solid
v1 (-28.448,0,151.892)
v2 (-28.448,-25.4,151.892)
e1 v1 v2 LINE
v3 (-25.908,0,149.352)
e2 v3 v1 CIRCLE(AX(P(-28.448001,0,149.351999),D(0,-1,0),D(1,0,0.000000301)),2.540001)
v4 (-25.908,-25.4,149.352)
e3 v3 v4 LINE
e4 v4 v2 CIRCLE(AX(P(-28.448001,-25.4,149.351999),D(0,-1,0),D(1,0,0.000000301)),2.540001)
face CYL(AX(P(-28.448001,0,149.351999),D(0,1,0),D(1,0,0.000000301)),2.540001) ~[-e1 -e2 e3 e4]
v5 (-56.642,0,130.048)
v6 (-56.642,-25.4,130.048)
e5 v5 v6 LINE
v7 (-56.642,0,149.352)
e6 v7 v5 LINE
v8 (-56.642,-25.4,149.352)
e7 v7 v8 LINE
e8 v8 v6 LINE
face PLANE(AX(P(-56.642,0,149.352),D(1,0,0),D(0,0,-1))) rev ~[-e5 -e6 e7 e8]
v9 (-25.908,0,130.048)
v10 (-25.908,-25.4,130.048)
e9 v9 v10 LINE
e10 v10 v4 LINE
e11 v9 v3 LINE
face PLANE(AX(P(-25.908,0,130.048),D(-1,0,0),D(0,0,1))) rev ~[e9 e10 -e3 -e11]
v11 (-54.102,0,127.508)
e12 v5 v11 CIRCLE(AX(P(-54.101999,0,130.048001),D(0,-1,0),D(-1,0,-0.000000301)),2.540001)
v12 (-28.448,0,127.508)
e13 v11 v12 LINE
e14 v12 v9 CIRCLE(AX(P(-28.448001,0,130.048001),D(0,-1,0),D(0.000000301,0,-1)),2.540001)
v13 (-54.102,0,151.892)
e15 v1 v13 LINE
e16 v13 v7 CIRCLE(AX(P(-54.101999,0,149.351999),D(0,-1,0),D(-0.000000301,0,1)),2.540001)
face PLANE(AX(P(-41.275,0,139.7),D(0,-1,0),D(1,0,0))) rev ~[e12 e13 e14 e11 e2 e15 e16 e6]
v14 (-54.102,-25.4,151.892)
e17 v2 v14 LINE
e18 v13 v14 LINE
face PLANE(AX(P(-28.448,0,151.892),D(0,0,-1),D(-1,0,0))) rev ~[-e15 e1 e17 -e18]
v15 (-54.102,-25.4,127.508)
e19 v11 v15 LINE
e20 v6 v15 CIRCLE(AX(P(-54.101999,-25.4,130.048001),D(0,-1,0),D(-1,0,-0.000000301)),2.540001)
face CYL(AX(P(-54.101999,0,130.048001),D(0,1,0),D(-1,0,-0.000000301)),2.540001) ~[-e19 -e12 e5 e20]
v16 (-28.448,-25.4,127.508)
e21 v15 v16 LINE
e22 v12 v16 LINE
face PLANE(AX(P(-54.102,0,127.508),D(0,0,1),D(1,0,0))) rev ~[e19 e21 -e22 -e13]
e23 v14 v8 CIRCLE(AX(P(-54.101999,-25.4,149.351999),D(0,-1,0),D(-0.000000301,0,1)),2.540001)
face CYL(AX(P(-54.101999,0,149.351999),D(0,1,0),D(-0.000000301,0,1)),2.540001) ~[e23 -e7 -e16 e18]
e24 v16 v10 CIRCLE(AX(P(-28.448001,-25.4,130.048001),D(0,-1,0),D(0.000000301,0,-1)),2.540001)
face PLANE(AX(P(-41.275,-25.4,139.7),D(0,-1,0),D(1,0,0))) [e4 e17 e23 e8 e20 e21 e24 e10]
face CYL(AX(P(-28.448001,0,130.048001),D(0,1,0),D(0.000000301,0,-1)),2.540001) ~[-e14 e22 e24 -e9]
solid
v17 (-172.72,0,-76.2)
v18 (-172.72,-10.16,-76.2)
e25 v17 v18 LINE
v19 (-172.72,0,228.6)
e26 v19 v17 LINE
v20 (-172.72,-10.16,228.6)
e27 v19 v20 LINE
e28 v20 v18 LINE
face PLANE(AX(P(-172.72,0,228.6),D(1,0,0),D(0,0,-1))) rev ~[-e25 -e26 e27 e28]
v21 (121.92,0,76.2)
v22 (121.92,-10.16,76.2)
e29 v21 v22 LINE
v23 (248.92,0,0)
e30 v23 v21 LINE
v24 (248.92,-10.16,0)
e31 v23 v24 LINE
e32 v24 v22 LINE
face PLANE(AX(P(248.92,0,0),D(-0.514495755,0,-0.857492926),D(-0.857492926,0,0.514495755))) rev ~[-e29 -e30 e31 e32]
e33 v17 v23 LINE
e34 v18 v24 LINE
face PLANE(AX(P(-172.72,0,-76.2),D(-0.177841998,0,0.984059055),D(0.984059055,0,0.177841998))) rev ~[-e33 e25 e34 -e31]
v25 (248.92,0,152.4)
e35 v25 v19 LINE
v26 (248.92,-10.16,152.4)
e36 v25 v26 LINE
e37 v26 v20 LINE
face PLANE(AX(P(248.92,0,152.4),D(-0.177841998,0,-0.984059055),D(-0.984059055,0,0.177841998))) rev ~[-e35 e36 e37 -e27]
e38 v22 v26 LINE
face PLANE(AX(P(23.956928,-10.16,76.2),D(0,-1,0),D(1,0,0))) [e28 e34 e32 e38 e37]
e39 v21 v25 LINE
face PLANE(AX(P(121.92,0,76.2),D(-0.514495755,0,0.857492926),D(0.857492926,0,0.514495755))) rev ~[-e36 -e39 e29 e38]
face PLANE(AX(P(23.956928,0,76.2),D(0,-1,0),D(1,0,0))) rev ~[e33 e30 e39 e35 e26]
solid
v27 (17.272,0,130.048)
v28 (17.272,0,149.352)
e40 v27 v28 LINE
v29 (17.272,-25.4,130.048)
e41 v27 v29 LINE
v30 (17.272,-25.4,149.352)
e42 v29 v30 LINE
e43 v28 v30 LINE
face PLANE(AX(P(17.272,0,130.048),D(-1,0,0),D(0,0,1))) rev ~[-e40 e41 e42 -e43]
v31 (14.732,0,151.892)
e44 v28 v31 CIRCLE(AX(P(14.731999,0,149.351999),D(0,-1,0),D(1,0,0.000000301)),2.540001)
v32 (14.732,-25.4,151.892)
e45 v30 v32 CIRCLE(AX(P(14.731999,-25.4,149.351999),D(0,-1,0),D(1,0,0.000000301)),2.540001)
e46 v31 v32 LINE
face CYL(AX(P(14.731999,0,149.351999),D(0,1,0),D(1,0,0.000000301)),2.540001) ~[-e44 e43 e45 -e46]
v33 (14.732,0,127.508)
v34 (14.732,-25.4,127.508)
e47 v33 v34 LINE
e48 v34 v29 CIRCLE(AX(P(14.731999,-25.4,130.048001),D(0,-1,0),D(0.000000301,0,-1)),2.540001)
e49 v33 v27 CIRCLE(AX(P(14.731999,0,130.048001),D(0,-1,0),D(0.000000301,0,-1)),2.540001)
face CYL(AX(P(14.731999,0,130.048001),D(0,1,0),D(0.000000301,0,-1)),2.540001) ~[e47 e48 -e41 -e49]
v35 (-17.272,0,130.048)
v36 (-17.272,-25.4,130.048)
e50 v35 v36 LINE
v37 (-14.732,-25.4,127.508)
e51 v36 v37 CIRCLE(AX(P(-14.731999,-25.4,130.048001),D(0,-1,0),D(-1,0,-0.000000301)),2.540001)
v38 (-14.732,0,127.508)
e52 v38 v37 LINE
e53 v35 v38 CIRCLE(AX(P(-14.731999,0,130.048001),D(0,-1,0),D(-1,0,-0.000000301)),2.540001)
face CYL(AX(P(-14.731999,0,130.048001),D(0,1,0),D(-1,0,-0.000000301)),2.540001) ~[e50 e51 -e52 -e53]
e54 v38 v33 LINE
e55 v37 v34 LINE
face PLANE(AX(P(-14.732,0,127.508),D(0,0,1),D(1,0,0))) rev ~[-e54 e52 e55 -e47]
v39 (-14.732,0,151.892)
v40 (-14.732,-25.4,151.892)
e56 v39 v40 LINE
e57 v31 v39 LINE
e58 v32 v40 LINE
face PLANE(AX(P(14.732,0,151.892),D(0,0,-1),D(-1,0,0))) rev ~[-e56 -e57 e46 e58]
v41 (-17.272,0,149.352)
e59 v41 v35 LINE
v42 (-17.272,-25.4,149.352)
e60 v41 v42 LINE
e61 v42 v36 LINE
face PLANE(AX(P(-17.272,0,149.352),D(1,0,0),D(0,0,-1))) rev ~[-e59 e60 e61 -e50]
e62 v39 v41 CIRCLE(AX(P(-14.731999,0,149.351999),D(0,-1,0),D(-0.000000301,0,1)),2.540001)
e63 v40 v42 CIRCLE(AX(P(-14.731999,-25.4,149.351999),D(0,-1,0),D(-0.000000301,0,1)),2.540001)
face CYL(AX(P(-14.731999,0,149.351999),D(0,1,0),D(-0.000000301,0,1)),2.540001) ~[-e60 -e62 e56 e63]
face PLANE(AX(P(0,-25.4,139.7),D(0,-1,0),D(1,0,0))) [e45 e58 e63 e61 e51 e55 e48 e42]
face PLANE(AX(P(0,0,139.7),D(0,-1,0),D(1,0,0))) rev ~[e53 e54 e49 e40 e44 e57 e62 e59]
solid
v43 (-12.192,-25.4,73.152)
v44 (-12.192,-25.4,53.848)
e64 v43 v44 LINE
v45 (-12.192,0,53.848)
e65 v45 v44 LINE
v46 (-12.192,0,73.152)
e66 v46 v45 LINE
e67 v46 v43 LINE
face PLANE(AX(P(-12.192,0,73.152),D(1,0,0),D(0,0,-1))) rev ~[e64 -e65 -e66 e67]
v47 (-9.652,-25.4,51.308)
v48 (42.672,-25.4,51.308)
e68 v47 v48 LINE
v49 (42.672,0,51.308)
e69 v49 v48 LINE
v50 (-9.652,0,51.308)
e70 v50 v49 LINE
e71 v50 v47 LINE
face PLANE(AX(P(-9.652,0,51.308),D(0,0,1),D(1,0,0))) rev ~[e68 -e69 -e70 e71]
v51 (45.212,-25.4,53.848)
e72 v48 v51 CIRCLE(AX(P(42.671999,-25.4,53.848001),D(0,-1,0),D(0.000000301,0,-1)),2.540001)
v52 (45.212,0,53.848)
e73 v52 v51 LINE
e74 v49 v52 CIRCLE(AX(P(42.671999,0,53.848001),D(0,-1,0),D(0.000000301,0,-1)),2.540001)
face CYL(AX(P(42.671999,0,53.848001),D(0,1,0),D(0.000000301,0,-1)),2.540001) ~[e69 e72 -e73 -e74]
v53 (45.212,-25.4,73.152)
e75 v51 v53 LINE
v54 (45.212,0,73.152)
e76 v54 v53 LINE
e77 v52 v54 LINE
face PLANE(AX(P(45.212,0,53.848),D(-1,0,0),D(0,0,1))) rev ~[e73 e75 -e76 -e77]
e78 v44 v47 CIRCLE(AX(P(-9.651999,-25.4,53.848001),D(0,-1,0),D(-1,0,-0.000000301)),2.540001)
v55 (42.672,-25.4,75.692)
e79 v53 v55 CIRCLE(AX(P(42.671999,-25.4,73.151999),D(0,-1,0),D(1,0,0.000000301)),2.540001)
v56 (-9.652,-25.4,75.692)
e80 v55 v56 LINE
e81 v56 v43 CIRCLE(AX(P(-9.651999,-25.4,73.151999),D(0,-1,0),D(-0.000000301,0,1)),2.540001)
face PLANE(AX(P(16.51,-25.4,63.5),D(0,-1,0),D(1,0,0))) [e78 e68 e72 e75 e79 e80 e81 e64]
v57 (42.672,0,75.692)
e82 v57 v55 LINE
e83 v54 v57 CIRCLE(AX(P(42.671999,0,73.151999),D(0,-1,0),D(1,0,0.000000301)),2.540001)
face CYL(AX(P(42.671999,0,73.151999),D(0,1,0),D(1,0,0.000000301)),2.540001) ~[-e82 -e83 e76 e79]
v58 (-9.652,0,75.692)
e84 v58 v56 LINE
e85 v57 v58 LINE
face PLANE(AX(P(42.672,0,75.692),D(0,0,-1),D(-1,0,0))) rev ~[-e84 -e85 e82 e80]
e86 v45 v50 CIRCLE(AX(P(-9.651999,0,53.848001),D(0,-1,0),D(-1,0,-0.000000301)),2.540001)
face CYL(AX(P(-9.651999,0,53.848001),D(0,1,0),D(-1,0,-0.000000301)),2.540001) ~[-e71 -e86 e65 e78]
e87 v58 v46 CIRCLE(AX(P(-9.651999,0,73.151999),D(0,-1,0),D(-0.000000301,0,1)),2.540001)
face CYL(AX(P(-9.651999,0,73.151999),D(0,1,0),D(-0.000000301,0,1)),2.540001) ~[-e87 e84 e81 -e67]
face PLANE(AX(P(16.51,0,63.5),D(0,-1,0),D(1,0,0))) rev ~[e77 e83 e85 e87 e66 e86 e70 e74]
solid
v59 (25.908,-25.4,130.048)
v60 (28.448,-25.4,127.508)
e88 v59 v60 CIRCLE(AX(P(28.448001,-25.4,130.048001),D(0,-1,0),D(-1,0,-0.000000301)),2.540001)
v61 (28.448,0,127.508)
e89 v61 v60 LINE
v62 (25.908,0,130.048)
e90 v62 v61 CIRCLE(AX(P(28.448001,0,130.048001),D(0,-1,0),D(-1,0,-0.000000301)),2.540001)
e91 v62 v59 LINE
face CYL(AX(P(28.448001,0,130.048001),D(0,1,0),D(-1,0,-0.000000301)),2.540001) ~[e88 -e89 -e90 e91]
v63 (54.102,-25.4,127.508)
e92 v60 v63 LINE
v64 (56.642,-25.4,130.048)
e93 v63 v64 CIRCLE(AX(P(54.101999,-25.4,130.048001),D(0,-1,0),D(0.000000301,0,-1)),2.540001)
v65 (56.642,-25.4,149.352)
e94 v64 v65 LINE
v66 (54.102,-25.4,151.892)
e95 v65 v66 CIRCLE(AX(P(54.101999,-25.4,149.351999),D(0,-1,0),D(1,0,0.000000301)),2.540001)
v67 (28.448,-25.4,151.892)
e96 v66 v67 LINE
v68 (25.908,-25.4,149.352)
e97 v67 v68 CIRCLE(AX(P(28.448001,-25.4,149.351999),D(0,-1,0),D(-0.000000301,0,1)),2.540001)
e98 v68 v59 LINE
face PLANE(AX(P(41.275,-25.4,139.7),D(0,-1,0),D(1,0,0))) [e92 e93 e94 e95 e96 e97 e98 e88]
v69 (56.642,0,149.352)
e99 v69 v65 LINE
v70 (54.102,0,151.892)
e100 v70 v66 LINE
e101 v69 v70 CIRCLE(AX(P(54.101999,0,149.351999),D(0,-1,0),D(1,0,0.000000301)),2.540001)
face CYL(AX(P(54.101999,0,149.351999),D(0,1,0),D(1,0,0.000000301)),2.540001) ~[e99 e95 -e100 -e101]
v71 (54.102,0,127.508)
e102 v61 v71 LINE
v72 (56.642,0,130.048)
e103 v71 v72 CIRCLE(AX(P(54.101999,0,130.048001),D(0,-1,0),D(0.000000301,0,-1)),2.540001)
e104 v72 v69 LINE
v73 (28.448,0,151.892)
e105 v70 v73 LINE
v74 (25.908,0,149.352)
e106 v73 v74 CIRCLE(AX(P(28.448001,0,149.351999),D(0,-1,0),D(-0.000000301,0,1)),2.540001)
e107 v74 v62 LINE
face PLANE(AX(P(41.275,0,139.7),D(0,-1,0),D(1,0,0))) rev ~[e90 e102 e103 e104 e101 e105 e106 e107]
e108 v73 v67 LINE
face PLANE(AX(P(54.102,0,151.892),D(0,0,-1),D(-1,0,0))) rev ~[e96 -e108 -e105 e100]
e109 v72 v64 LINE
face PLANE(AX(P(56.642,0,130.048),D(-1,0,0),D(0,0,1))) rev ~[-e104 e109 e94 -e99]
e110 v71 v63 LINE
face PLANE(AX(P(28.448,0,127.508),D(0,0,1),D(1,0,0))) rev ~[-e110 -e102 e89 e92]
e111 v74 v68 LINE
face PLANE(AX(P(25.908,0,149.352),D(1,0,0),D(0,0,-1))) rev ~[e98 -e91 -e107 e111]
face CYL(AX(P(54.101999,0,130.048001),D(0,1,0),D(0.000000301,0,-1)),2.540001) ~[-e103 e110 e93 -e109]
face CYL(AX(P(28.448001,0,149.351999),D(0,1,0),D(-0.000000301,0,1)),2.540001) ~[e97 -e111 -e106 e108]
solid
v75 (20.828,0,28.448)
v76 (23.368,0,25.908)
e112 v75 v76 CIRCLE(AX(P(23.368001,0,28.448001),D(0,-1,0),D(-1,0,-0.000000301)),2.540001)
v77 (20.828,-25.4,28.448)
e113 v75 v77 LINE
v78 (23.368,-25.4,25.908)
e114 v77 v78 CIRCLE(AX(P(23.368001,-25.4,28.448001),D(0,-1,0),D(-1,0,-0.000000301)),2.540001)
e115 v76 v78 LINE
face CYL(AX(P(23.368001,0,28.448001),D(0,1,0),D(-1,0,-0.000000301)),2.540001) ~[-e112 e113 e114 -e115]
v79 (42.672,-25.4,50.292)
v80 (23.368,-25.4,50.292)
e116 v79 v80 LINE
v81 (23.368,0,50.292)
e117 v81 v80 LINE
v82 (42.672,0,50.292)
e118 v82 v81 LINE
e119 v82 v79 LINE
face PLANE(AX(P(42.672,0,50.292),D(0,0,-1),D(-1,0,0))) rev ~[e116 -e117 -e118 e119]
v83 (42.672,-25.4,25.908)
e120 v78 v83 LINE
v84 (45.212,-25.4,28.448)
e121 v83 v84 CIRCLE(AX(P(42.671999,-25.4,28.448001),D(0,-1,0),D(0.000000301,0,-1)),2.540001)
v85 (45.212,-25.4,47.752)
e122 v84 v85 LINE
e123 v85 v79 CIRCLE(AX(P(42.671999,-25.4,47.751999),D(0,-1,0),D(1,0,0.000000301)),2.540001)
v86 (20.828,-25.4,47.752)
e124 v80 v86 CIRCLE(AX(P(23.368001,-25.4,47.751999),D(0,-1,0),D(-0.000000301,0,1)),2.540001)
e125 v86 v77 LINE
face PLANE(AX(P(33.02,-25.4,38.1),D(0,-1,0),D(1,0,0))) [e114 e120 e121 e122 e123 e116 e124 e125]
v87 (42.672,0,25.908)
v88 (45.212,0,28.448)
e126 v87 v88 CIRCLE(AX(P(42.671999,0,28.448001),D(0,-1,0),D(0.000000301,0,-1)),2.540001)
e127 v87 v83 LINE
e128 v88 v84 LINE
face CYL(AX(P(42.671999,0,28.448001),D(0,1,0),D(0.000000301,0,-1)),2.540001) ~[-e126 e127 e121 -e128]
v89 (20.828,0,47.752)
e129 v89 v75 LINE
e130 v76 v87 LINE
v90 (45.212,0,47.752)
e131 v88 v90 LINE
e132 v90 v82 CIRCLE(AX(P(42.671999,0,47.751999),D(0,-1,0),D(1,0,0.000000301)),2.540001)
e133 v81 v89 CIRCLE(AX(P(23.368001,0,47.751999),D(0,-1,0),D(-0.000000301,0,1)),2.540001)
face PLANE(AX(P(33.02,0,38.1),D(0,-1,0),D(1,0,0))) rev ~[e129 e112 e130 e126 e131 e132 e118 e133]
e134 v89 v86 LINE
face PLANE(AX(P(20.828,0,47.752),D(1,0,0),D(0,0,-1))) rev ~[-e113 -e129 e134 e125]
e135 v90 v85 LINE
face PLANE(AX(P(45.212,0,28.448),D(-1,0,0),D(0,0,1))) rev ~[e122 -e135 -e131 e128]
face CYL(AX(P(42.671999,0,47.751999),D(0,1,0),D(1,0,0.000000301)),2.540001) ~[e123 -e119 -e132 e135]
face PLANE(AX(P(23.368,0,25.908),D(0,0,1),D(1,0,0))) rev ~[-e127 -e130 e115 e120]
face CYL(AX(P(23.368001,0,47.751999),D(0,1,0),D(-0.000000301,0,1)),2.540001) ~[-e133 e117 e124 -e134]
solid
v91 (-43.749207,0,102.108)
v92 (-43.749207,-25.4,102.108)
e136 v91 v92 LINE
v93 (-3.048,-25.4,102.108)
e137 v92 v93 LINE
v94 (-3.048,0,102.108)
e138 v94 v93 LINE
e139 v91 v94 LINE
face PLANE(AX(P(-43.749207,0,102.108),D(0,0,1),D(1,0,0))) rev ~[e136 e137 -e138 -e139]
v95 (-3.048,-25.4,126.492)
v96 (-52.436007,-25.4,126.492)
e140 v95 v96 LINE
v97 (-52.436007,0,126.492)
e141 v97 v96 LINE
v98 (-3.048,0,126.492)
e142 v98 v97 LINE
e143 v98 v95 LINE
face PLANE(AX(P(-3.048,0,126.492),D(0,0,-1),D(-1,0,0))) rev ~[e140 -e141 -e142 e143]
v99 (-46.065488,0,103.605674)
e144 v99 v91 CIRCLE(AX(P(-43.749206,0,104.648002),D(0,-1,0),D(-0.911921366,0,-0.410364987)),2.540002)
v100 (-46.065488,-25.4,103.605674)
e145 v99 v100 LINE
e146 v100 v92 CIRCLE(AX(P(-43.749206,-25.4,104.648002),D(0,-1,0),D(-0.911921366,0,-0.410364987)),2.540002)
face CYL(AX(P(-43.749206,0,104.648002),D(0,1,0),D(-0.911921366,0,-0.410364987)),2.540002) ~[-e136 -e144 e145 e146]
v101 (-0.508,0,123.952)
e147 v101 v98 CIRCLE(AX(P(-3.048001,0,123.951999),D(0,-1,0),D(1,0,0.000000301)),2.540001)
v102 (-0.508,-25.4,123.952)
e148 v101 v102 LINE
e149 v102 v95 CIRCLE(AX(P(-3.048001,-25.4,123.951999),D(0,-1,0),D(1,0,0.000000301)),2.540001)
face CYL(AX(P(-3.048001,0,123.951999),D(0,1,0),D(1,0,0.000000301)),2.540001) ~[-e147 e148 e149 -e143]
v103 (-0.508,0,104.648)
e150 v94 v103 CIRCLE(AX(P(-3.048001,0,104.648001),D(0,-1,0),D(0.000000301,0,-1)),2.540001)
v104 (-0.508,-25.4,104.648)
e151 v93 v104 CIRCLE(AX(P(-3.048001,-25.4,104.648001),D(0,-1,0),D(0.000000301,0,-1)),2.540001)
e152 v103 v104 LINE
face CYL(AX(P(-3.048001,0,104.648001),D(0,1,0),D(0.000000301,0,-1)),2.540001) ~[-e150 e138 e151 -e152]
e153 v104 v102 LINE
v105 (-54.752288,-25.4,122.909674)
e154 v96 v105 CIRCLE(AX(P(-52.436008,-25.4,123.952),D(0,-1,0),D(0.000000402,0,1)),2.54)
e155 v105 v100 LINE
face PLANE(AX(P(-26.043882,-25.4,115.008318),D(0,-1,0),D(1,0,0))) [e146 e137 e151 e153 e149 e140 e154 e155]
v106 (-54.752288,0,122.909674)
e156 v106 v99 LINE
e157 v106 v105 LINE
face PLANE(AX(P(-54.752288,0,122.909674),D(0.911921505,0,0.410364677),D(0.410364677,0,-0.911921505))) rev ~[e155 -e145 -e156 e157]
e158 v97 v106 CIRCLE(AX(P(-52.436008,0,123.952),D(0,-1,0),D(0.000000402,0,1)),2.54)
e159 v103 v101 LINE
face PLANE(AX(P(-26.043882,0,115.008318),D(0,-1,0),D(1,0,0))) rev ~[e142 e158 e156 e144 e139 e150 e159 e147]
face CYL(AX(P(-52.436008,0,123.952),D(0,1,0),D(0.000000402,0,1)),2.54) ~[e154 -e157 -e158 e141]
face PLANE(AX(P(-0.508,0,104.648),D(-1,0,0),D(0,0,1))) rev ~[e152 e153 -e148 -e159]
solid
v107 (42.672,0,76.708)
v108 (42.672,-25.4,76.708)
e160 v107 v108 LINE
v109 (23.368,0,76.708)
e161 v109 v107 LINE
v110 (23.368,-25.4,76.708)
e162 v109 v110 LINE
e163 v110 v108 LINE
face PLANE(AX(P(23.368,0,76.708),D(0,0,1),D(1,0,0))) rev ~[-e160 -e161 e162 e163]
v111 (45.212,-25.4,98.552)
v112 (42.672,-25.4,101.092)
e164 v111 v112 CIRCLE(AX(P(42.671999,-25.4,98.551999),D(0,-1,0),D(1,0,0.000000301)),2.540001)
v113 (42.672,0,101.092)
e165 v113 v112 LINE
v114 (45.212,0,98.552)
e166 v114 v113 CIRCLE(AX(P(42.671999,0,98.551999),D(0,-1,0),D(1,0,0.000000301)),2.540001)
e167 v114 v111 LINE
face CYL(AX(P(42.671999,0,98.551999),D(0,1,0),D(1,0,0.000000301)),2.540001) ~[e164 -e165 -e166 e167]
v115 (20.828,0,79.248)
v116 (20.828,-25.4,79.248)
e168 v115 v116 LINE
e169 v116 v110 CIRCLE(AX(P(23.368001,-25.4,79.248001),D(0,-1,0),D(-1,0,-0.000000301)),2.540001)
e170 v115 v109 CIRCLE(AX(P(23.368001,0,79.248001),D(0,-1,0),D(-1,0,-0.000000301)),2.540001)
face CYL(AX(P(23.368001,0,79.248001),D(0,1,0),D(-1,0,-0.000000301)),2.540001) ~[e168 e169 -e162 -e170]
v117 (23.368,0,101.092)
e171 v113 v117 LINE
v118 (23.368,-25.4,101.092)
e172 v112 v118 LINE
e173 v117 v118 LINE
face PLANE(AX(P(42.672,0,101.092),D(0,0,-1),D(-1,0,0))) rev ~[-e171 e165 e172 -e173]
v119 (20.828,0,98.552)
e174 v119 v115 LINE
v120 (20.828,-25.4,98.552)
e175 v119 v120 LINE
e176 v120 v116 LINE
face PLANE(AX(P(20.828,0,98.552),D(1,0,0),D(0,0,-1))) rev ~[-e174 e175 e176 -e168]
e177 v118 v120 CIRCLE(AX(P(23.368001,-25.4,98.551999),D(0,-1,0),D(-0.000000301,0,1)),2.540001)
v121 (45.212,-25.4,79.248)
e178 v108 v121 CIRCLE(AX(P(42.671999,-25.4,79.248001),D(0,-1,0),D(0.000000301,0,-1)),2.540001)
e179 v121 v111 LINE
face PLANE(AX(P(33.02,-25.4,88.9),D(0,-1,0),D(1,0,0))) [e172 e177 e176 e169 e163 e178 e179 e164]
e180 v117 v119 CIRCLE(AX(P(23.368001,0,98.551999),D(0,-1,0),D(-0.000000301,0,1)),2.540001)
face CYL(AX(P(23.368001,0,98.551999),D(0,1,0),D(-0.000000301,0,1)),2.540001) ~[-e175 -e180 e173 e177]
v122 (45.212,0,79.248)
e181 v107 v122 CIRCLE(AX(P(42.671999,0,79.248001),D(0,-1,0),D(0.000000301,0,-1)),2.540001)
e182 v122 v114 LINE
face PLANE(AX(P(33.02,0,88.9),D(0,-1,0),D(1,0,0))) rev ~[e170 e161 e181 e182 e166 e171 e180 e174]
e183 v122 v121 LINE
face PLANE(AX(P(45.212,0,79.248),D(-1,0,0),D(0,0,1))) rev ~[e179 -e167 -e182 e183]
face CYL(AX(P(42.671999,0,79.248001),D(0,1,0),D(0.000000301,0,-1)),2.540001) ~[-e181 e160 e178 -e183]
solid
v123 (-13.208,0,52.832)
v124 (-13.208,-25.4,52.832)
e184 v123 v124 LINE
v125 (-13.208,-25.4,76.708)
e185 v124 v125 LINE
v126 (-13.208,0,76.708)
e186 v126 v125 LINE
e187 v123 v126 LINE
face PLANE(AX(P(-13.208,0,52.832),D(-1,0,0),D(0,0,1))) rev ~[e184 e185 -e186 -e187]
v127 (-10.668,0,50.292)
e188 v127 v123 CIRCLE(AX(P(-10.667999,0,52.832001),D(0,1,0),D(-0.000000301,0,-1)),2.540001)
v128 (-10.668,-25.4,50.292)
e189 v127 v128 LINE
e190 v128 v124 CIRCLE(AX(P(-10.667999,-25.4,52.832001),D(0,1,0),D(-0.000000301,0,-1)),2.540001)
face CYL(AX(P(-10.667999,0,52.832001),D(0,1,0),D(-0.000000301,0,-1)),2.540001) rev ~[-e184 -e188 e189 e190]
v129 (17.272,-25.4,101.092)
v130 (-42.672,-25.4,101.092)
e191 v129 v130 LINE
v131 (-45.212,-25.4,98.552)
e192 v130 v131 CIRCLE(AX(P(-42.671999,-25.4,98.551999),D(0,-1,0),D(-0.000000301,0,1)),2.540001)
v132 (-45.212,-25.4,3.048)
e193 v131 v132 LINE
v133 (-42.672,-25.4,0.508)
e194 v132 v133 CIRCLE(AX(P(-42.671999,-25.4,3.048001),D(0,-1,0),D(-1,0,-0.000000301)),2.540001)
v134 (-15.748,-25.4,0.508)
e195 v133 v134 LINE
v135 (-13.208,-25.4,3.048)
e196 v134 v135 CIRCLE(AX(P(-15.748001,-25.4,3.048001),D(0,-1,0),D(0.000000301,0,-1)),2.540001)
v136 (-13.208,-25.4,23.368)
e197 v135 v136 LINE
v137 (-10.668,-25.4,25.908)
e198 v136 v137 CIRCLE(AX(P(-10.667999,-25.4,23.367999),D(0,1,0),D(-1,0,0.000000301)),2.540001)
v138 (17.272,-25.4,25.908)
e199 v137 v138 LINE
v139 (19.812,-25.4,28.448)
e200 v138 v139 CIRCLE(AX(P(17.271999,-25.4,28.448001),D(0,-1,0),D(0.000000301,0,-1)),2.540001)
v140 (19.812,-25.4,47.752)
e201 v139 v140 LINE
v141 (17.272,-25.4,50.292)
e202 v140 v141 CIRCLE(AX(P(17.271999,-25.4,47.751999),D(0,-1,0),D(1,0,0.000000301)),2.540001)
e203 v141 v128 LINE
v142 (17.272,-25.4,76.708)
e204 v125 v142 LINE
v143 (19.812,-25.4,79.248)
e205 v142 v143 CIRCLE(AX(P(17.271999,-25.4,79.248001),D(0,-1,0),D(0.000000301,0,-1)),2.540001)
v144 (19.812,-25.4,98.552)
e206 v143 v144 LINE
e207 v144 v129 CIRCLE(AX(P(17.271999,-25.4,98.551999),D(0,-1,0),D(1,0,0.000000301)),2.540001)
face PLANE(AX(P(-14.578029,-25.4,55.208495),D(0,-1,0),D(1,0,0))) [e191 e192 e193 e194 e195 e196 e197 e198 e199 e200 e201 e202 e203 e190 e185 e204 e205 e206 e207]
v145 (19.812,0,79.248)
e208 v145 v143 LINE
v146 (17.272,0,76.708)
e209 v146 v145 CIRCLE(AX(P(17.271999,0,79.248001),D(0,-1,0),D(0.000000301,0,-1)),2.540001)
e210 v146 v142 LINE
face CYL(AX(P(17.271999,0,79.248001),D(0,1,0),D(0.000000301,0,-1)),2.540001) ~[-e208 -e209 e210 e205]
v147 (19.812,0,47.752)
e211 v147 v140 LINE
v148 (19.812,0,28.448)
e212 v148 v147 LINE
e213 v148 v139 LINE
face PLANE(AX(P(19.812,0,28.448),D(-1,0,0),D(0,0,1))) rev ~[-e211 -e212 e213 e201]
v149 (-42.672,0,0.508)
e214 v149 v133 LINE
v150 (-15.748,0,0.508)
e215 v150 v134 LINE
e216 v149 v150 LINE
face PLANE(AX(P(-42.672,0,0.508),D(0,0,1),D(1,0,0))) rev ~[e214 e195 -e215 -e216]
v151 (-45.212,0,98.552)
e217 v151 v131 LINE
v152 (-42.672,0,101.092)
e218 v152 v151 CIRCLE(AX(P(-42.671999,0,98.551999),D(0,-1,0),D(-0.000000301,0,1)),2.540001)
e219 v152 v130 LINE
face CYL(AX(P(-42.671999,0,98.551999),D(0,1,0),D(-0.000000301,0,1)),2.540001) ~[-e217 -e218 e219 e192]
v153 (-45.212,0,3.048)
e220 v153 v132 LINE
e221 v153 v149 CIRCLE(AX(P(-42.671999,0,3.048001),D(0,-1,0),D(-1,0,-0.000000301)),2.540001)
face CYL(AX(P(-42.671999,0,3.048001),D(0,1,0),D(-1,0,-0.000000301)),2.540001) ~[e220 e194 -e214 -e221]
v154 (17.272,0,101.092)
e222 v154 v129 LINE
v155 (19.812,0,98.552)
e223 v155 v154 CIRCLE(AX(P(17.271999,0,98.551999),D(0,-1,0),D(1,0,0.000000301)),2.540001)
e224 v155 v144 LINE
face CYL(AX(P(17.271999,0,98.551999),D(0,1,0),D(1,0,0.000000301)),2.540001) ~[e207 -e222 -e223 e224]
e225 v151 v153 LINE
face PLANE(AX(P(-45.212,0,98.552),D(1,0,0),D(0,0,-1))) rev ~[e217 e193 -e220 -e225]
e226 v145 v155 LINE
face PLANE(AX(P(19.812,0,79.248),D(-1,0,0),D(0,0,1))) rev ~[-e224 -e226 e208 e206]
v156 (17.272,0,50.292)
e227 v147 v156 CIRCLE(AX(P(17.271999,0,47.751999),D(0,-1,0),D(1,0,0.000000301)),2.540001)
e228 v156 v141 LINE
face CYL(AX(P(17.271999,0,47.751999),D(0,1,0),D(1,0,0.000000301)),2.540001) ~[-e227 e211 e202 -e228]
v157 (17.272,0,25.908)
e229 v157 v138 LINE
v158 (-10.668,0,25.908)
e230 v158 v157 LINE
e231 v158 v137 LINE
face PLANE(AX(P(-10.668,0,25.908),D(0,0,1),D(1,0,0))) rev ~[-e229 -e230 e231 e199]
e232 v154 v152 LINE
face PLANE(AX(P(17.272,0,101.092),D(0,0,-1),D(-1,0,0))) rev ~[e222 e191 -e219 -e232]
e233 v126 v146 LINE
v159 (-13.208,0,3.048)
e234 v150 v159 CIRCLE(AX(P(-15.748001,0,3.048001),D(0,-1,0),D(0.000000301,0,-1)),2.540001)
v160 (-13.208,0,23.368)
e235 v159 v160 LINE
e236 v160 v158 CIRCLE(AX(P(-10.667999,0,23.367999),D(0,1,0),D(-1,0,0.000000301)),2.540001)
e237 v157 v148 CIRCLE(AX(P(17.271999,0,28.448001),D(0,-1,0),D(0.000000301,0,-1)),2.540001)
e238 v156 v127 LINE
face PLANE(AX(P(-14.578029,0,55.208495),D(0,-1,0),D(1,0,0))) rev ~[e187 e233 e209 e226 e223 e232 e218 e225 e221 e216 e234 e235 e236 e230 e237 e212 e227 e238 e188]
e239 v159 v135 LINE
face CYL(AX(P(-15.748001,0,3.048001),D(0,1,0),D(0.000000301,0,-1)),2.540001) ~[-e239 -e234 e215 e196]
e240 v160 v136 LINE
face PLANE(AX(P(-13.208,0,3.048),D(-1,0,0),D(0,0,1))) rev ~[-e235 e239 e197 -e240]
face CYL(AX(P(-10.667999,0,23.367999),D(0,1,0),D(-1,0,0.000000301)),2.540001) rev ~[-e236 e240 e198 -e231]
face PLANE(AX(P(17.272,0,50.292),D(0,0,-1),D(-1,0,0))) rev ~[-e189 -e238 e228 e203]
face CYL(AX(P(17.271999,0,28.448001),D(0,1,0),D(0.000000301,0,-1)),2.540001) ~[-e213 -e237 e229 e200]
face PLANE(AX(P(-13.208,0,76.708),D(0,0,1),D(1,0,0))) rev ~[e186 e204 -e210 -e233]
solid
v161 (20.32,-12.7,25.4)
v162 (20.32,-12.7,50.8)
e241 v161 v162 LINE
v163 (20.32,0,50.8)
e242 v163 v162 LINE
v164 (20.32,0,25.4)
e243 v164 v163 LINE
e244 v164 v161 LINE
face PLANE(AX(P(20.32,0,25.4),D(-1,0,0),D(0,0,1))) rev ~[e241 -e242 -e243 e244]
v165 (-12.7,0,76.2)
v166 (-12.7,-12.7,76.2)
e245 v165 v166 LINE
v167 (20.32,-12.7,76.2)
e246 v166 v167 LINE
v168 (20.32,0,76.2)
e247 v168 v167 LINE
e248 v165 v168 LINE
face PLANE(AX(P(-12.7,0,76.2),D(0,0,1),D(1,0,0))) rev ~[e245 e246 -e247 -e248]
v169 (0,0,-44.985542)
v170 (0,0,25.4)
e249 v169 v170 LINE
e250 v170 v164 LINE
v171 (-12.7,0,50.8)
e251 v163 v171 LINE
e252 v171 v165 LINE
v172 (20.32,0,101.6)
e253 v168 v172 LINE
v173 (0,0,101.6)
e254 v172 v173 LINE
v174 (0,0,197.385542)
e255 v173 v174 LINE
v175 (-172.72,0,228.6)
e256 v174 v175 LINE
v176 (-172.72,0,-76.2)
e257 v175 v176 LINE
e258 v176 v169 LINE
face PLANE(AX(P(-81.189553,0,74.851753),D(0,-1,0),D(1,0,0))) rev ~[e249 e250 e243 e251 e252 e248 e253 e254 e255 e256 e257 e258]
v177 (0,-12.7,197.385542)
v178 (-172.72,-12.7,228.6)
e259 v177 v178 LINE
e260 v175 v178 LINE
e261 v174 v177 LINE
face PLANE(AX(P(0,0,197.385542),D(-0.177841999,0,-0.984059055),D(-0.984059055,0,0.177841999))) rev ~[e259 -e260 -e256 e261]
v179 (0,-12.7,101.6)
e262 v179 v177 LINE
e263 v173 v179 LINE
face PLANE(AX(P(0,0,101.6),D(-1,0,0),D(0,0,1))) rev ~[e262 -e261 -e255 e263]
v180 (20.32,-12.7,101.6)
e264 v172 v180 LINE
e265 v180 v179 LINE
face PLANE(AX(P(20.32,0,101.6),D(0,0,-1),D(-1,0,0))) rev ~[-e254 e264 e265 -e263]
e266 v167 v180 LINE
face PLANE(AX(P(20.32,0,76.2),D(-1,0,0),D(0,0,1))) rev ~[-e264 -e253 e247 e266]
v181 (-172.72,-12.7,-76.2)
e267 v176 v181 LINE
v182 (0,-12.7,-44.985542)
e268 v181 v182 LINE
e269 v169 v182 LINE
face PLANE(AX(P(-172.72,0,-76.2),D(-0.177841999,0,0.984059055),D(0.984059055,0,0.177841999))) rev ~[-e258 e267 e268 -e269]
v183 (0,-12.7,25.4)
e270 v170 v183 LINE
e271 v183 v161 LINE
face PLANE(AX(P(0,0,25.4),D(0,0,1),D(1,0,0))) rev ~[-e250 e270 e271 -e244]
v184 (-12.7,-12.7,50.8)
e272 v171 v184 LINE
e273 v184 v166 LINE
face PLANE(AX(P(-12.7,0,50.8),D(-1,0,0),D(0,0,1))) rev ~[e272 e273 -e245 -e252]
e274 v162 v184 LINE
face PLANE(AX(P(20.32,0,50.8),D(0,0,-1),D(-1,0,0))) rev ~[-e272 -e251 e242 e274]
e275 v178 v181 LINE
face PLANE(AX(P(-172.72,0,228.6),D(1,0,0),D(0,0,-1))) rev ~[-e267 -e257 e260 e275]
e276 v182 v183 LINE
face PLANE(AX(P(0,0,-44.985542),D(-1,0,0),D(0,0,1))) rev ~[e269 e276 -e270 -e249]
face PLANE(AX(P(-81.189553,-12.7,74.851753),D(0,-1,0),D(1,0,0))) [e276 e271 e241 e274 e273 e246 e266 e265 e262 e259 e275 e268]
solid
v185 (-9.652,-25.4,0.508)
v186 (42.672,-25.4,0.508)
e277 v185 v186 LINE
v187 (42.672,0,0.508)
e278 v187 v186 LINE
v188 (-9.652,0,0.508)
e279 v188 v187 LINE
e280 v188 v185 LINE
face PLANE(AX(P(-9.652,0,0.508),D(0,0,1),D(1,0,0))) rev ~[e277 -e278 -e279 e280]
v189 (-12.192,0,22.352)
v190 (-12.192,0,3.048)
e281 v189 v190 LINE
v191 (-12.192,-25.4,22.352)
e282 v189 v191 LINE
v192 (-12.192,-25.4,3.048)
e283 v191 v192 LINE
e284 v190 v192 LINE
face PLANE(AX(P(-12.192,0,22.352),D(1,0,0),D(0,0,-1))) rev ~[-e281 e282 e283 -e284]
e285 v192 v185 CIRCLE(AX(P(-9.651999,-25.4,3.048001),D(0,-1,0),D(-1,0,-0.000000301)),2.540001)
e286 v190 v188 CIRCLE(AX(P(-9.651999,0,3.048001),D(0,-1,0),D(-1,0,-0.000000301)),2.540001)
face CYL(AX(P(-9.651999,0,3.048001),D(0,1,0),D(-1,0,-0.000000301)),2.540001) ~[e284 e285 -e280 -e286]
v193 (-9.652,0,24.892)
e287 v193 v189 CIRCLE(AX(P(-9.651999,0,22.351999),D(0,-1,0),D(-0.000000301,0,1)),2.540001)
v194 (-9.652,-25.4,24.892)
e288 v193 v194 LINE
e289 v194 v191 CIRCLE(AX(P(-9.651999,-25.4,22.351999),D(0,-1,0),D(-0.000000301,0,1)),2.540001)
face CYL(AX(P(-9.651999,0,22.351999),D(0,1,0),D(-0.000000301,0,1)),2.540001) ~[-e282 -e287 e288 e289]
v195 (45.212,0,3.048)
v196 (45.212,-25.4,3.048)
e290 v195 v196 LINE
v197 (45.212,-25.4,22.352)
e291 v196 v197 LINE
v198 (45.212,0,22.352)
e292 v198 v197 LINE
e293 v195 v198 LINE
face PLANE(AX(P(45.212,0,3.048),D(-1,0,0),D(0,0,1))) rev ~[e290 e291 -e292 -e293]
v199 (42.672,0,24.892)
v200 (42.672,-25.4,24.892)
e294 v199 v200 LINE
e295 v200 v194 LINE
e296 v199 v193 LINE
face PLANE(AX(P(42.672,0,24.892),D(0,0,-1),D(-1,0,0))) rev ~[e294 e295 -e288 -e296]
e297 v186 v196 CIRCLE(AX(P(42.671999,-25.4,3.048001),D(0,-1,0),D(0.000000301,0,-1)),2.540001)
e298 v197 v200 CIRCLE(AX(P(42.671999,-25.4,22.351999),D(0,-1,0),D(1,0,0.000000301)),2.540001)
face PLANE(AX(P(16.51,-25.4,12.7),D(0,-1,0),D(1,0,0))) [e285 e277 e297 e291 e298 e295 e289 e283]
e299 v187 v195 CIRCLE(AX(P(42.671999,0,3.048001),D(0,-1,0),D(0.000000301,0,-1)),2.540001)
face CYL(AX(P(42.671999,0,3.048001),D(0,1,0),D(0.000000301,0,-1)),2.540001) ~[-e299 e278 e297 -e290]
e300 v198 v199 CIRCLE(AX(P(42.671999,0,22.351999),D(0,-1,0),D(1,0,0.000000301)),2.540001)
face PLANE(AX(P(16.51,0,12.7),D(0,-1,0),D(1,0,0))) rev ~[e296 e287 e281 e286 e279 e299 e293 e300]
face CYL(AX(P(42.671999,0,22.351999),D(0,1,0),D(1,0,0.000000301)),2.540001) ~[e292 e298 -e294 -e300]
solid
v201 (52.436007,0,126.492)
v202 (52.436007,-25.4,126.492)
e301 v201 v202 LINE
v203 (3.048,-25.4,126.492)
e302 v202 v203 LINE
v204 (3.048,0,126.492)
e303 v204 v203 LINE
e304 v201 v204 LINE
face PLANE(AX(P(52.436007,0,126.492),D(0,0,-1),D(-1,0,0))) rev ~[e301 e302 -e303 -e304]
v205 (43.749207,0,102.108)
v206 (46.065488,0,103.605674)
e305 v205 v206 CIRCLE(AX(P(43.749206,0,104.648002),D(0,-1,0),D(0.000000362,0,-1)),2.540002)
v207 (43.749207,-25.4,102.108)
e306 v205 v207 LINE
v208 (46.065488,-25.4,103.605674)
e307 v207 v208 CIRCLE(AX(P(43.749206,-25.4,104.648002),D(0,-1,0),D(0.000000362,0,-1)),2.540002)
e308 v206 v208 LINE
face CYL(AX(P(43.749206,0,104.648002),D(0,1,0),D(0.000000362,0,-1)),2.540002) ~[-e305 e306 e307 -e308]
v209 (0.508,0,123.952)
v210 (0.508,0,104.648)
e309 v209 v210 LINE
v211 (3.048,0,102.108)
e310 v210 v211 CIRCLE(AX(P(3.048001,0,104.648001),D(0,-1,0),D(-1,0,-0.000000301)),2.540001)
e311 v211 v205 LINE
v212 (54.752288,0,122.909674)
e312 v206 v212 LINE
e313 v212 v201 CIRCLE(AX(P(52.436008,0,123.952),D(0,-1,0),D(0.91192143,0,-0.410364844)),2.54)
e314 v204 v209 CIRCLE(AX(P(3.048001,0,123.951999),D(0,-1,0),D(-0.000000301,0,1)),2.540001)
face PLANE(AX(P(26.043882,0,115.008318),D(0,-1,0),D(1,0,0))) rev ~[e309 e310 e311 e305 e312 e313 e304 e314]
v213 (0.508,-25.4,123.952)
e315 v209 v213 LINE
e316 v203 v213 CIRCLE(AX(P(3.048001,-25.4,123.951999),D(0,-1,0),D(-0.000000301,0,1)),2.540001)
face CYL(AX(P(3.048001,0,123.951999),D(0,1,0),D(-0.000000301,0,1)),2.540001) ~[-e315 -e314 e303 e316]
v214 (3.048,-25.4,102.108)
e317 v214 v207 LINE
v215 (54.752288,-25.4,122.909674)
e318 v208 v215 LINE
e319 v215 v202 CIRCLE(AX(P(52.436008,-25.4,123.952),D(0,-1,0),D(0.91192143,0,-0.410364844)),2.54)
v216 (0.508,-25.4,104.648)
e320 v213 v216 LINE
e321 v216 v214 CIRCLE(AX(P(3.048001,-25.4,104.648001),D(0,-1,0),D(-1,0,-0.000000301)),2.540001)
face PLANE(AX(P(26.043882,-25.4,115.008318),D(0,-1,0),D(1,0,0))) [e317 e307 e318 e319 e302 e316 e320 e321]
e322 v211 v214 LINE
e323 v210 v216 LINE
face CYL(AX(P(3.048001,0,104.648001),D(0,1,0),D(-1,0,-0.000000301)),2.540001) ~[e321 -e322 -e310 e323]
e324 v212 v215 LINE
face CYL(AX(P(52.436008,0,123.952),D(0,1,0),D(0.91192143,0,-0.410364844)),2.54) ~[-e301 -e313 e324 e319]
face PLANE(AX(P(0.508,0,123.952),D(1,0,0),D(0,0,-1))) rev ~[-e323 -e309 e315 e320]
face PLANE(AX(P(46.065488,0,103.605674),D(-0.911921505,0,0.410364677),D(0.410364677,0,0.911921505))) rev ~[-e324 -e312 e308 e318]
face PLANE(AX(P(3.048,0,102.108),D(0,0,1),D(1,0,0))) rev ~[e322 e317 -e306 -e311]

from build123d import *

# Parameters (mm, degrees)
F2_DEPTH = 25.4
F5_DEPTH = 12.7
F6_DEPTH = 10.16


with BuildPart() as f2:
    # F1 (on face) → F2 (new body)
    with BuildSketch(Plane.XZ):
        with BuildLine():
            ThreePointArc((17.272, 76.708), (19.068051, 77.451949), (19.812, 79.248))
            Line((19.812, 79.248), (19.812, 98.552))
            ThreePointArc((19.812, 98.552), (19.068051, 100.348051), (17.272, 101.092))
            Line((17.272, 101.092), (0, 101.092))
            Line((0, 101.092), (-42.672, 101.092))
            ThreePointArc((-42.672, 101.092), (-44.468051, 100.348051), (-45.212, 98.552))
            Line((-45.212, 98.552), (-45.212, 76.2))
            Line((-45.212, 76.2), (-45.212, 50.8))
            Line((-45.212, 50.8), (-45.212, 25.4))
            Line((-45.212, 25.4), (-45.212, 3.048))
            ThreePointArc((-45.212, 3.048), (-44.468051, 1.251949), (-42.672, 0.508))
            Line((-42.672, 0.508), (-15.748, 0.508))
            ThreePointArc((-15.748, 0.508), (-13.951949, 1.251949), (-13.208, 3.048))
            Line((-13.208, 3.048), (-13.208, 23.368))
            ThreePointArc((-13.208, 23.368), (-12.464051, 25.164051), (-10.668, 25.908))
            Line((-10.668, 25.908), (17.272, 25.908))
            ThreePointArc((17.272, 25.908), (19.068051, 26.651949), (19.812, 28.448))
            Line((19.812, 28.448), (19.812, 47.752))
            ThreePointArc((19.812, 47.752), (19.068051, 49.548051), (17.272, 50.292))
            Line((17.272, 50.292), (-10.668, 50.292))
            ThreePointArc((-10.668, 50.292), (-12.464051, 51.035949), (-13.208, 52.832))
            Line((-13.208, 52.832), (-13.208, 76.708))
            Line((-13.208, 76.708), (17.272, 76.708))
        make_face()
        with BuildLine():
            Line((42.672, 24.892), (15.24, 24.892))
            Line((15.24, 24.892), (-9.652, 24.892))
            ThreePointArc((-9.652, 24.892), (-11.448051, 24.148051), (-12.192, 22.352))
            Line((-12.192, 22.352), (-12.192, 3.048))
            ThreePointArc((-12.192, 3.048), (-11.448051, 1.251949), (-9.652, 0.508))
            Line((-9.652, 0.508), (42.672, 0.508))
            ThreePointArc((42.672, 0.508), (44.468051, 1.251949), (45.212, 3.048))
            Line((45.212, 3.048), (45.212, 22.352))
            ThreePointArc((45.212, 22.352), (44.468051, 24.148051), (42.672, 24.892))
        make_face()
        with BuildLine():
            ThreePointArc((45.212, 47.752), (44.468051, 49.548051), (42.672, 50.292))
            Line((42.672, 50.292), (23.368, 50.292))
            ThreePointArc((23.368, 50.292), (21.571949, 49.548051), (20.828, 47.752))
            Line((20.828, 47.752), (20.828, 28.448))
            ThreePointArc((20.828, 28.448), (21.571949, 26.651949), (23.368, 25.908))
            Line((23.368, 25.908), (42.672, 25.908))
            ThreePointArc((42.672, 25.908), (44.468051, 26.651949), (45.212, 28.448))
            Line((45.212, 28.448), (45.212, 47.752))
        make_face()
        with BuildLine():
            ThreePointArc((42.672, 51.308), (44.468051, 52.051949), (45.212, 53.848))
            Line((45.212, 53.848), (45.212, 73.152))
            ThreePointArc((45.212, 73.152), (44.468051, 74.948051), (42.672, 75.692))
            Line((42.672, 75.692), (25.4, 75.692))
            Line((25.4, 75.692), (-9.652, 75.692))
            ThreePointArc((-9.652, 75.692), (-11.448051, 74.948051), (-12.192, 73.152))
            Line((-12.192, 73.152), (-12.192, 53.848))
            ThreePointArc((-12.192, 53.848), (-11.448051, 52.051949), (-9.652, 51.308))
            Line((-9.652, 51.308), (15.24, 51.308))
            Line((15.24, 51.308), (42.672, 51.308))
        make_face()
        with BuildLine():
            ThreePointArc((45.212, 98.552), (44.468051, 100.348051), (42.672, 101.092))
            Line((42.672, 101.092), (23.368, 101.092))
            ThreePointArc((23.368, 101.092), (21.571949, 100.348051), (20.828, 98.552))
            Line((20.828, 98.552), (20.828, 79.248))
            ThreePointArc((20.828, 79.248), (21.571949, 77.451949), (23.368, 76.708))
            Line((23.368, 76.708), (42.672, 76.708))
            ThreePointArc((42.672, 76.708), (44.468051, 77.451949), (45.212, 79.248))
            Line((45.212, 79.248), (45.212, 98.552))
        make_face()
        with BuildLine():
            ThreePointArc((43.749207, 102.108), (45.128354, 102.515032), (46.065488, 103.605674))
            Line((46.065488, 103.605674), (54.752288, 122.909674))
            ThreePointArc((54.752288, 122.909674), (54.568976, 125.331147), (52.436007, 126.492))
            Line((52.436007, 126.492), (25.4, 126.492))
            Line((25.4, 126.492), (15.24, 126.492))
            Line((15.24, 126.492), (3.048, 126.492))
            ThreePointArc((3.048, 126.492), (1.251949, 125.748051), (0.508, 123.952))
            Line((0.508, 123.952), (0.508, 104.648))
            ThreePointArc((0.508, 104.648), (1.251949, 102.851949), (3.048, 102.108))
            Line((3.048, 102.108), (25.4, 102.108))
            Line((25.4, 102.108), (43.749207, 102.108))
        make_face()
        with BuildLine():
            ThreePointArc((-3.048, 102.108), (-1.251949, 102.851949), (-0.508, 104.648))
            Line((-0.508, 104.648), (-0.508, 123.952))
            ThreePointArc((-0.508, 123.952), (-1.251949, 125.748051), (-3.048, 126.492))
            Line((-3.048, 126.492), (-15.24, 126.492))
            Line((-15.24, 126.492), (-25.4, 126.492))
            Line((-25.4, 126.492), (-52.436007, 126.492))
            ThreePointArc((-52.436007, 126.492), (-54.568976, 125.331147), (-54.752288, 122.909674))
            Line((-54.752288, 122.909674), (-46.065488, 103.605674))
            ThreePointArc((-46.065488, 103.605674), (-45.128354, 102.515032), (-43.749207, 102.108))
            Line((-43.749207, 102.108), (-3.048, 102.108))
        make_face()
        with BuildLine():
            ThreePointArc((-54.102, 151.892), (-55.898051, 151.148051), (-56.642, 149.352))
            Line((-56.642, 149.352), (-56.642, 130.048))
            ThreePointArc((-56.642, 130.048), (-55.898051, 128.251949), (-54.102, 127.508))
            Line((-54.102, 127.508), (-28.448, 127.508))
            ThreePointArc((-28.448, 127.508), (-26.651949, 128.251949), (-25.908, 130.048))
            Line((-25.908, 130.048), (-25.908, 149.352))
            ThreePointArc((-25.908, 149.352), (-26.651949, 151.148051), (-28.448, 151.892))
            Line((-28.448, 151.892), (-54.102, 151.892))
        make_face()
        with BuildLine():
            ThreePointArc((-17.272, 130.048), (-16.528051, 128.251949), (-14.732, 127.508))
            Line((-14.732, 127.508), (0, 127.508))
            Line((0, 127.508), (14.732, 127.508))
            ThreePointArc((14.732, 127.508), (16.528051, 128.251949), (17.272, 130.048))
            Line((17.272, 130.048), (17.272, 149.352))
            ThreePointArc((17.272, 149.352), (16.528051, 151.148051), (14.732, 151.892))
            Line((14.732, 151.892), (-14.732, 151.892))
            ThreePointArc((-14.732, 151.892), (-16.528051, 151.148051), (-17.272, 149.352))
            Line((-17.272, 149.352), (-17.272, 130.048))
        make_face()
        with BuildLine():
            ThreePointArc((28.448, 151.892), (26.651949, 151.148051), (25.908, 149.352))
            Line((25.908, 149.352), (25.908, 130.048))
            ThreePointArc((25.908, 130.048), (26.651949, 128.251949), (28.448, 127.508))
            Line((28.448, 127.508), (54.102, 127.508))
            ThreePointArc((54.102, 127.508), (55.898051, 128.251949), (56.642, 130.048))
            Line((56.642, 130.048), (56.642, 149.352))
            ThreePointArc((56.642, 149.352), (55.898051, 151.148051), (54.102, 151.892))
            Line((54.102, 151.892), (28.448, 151.892))
        make_face()
    extrude(amount=F2_DEPTH)


with BuildPart() as f5:
    # F4 (on face) → F5 (new body)
    with BuildSketch(Plane.XZ):
        Polygon((0, 197.385542), (-172.72, 228.6), (-172.72, -76.2), (0, -44.985542), (0, 25.4), (20.32, 25.4), (20.32, 50.8), (-12.7, 50.8), (-12.7, 76.2), (20.32, 76.2), (20.32, 101.6), (0, 101.6), (0, 127), align=None)
    extrude(amount=F5_DEPTH)


with BuildPart() as f6:
    # F3 (on Front) → F6 (new body)
    with BuildSketch(Plane.XZ):
        Polygon((248.92, 152.4), (-172.72, 228.6), (-172.72, -76.2), (248.92, 0), (121.92, 76.2), align=None)
    extrude(amount=F6_DEPTH)


solid = Compound([f2.part, f5.part, f6.part])
